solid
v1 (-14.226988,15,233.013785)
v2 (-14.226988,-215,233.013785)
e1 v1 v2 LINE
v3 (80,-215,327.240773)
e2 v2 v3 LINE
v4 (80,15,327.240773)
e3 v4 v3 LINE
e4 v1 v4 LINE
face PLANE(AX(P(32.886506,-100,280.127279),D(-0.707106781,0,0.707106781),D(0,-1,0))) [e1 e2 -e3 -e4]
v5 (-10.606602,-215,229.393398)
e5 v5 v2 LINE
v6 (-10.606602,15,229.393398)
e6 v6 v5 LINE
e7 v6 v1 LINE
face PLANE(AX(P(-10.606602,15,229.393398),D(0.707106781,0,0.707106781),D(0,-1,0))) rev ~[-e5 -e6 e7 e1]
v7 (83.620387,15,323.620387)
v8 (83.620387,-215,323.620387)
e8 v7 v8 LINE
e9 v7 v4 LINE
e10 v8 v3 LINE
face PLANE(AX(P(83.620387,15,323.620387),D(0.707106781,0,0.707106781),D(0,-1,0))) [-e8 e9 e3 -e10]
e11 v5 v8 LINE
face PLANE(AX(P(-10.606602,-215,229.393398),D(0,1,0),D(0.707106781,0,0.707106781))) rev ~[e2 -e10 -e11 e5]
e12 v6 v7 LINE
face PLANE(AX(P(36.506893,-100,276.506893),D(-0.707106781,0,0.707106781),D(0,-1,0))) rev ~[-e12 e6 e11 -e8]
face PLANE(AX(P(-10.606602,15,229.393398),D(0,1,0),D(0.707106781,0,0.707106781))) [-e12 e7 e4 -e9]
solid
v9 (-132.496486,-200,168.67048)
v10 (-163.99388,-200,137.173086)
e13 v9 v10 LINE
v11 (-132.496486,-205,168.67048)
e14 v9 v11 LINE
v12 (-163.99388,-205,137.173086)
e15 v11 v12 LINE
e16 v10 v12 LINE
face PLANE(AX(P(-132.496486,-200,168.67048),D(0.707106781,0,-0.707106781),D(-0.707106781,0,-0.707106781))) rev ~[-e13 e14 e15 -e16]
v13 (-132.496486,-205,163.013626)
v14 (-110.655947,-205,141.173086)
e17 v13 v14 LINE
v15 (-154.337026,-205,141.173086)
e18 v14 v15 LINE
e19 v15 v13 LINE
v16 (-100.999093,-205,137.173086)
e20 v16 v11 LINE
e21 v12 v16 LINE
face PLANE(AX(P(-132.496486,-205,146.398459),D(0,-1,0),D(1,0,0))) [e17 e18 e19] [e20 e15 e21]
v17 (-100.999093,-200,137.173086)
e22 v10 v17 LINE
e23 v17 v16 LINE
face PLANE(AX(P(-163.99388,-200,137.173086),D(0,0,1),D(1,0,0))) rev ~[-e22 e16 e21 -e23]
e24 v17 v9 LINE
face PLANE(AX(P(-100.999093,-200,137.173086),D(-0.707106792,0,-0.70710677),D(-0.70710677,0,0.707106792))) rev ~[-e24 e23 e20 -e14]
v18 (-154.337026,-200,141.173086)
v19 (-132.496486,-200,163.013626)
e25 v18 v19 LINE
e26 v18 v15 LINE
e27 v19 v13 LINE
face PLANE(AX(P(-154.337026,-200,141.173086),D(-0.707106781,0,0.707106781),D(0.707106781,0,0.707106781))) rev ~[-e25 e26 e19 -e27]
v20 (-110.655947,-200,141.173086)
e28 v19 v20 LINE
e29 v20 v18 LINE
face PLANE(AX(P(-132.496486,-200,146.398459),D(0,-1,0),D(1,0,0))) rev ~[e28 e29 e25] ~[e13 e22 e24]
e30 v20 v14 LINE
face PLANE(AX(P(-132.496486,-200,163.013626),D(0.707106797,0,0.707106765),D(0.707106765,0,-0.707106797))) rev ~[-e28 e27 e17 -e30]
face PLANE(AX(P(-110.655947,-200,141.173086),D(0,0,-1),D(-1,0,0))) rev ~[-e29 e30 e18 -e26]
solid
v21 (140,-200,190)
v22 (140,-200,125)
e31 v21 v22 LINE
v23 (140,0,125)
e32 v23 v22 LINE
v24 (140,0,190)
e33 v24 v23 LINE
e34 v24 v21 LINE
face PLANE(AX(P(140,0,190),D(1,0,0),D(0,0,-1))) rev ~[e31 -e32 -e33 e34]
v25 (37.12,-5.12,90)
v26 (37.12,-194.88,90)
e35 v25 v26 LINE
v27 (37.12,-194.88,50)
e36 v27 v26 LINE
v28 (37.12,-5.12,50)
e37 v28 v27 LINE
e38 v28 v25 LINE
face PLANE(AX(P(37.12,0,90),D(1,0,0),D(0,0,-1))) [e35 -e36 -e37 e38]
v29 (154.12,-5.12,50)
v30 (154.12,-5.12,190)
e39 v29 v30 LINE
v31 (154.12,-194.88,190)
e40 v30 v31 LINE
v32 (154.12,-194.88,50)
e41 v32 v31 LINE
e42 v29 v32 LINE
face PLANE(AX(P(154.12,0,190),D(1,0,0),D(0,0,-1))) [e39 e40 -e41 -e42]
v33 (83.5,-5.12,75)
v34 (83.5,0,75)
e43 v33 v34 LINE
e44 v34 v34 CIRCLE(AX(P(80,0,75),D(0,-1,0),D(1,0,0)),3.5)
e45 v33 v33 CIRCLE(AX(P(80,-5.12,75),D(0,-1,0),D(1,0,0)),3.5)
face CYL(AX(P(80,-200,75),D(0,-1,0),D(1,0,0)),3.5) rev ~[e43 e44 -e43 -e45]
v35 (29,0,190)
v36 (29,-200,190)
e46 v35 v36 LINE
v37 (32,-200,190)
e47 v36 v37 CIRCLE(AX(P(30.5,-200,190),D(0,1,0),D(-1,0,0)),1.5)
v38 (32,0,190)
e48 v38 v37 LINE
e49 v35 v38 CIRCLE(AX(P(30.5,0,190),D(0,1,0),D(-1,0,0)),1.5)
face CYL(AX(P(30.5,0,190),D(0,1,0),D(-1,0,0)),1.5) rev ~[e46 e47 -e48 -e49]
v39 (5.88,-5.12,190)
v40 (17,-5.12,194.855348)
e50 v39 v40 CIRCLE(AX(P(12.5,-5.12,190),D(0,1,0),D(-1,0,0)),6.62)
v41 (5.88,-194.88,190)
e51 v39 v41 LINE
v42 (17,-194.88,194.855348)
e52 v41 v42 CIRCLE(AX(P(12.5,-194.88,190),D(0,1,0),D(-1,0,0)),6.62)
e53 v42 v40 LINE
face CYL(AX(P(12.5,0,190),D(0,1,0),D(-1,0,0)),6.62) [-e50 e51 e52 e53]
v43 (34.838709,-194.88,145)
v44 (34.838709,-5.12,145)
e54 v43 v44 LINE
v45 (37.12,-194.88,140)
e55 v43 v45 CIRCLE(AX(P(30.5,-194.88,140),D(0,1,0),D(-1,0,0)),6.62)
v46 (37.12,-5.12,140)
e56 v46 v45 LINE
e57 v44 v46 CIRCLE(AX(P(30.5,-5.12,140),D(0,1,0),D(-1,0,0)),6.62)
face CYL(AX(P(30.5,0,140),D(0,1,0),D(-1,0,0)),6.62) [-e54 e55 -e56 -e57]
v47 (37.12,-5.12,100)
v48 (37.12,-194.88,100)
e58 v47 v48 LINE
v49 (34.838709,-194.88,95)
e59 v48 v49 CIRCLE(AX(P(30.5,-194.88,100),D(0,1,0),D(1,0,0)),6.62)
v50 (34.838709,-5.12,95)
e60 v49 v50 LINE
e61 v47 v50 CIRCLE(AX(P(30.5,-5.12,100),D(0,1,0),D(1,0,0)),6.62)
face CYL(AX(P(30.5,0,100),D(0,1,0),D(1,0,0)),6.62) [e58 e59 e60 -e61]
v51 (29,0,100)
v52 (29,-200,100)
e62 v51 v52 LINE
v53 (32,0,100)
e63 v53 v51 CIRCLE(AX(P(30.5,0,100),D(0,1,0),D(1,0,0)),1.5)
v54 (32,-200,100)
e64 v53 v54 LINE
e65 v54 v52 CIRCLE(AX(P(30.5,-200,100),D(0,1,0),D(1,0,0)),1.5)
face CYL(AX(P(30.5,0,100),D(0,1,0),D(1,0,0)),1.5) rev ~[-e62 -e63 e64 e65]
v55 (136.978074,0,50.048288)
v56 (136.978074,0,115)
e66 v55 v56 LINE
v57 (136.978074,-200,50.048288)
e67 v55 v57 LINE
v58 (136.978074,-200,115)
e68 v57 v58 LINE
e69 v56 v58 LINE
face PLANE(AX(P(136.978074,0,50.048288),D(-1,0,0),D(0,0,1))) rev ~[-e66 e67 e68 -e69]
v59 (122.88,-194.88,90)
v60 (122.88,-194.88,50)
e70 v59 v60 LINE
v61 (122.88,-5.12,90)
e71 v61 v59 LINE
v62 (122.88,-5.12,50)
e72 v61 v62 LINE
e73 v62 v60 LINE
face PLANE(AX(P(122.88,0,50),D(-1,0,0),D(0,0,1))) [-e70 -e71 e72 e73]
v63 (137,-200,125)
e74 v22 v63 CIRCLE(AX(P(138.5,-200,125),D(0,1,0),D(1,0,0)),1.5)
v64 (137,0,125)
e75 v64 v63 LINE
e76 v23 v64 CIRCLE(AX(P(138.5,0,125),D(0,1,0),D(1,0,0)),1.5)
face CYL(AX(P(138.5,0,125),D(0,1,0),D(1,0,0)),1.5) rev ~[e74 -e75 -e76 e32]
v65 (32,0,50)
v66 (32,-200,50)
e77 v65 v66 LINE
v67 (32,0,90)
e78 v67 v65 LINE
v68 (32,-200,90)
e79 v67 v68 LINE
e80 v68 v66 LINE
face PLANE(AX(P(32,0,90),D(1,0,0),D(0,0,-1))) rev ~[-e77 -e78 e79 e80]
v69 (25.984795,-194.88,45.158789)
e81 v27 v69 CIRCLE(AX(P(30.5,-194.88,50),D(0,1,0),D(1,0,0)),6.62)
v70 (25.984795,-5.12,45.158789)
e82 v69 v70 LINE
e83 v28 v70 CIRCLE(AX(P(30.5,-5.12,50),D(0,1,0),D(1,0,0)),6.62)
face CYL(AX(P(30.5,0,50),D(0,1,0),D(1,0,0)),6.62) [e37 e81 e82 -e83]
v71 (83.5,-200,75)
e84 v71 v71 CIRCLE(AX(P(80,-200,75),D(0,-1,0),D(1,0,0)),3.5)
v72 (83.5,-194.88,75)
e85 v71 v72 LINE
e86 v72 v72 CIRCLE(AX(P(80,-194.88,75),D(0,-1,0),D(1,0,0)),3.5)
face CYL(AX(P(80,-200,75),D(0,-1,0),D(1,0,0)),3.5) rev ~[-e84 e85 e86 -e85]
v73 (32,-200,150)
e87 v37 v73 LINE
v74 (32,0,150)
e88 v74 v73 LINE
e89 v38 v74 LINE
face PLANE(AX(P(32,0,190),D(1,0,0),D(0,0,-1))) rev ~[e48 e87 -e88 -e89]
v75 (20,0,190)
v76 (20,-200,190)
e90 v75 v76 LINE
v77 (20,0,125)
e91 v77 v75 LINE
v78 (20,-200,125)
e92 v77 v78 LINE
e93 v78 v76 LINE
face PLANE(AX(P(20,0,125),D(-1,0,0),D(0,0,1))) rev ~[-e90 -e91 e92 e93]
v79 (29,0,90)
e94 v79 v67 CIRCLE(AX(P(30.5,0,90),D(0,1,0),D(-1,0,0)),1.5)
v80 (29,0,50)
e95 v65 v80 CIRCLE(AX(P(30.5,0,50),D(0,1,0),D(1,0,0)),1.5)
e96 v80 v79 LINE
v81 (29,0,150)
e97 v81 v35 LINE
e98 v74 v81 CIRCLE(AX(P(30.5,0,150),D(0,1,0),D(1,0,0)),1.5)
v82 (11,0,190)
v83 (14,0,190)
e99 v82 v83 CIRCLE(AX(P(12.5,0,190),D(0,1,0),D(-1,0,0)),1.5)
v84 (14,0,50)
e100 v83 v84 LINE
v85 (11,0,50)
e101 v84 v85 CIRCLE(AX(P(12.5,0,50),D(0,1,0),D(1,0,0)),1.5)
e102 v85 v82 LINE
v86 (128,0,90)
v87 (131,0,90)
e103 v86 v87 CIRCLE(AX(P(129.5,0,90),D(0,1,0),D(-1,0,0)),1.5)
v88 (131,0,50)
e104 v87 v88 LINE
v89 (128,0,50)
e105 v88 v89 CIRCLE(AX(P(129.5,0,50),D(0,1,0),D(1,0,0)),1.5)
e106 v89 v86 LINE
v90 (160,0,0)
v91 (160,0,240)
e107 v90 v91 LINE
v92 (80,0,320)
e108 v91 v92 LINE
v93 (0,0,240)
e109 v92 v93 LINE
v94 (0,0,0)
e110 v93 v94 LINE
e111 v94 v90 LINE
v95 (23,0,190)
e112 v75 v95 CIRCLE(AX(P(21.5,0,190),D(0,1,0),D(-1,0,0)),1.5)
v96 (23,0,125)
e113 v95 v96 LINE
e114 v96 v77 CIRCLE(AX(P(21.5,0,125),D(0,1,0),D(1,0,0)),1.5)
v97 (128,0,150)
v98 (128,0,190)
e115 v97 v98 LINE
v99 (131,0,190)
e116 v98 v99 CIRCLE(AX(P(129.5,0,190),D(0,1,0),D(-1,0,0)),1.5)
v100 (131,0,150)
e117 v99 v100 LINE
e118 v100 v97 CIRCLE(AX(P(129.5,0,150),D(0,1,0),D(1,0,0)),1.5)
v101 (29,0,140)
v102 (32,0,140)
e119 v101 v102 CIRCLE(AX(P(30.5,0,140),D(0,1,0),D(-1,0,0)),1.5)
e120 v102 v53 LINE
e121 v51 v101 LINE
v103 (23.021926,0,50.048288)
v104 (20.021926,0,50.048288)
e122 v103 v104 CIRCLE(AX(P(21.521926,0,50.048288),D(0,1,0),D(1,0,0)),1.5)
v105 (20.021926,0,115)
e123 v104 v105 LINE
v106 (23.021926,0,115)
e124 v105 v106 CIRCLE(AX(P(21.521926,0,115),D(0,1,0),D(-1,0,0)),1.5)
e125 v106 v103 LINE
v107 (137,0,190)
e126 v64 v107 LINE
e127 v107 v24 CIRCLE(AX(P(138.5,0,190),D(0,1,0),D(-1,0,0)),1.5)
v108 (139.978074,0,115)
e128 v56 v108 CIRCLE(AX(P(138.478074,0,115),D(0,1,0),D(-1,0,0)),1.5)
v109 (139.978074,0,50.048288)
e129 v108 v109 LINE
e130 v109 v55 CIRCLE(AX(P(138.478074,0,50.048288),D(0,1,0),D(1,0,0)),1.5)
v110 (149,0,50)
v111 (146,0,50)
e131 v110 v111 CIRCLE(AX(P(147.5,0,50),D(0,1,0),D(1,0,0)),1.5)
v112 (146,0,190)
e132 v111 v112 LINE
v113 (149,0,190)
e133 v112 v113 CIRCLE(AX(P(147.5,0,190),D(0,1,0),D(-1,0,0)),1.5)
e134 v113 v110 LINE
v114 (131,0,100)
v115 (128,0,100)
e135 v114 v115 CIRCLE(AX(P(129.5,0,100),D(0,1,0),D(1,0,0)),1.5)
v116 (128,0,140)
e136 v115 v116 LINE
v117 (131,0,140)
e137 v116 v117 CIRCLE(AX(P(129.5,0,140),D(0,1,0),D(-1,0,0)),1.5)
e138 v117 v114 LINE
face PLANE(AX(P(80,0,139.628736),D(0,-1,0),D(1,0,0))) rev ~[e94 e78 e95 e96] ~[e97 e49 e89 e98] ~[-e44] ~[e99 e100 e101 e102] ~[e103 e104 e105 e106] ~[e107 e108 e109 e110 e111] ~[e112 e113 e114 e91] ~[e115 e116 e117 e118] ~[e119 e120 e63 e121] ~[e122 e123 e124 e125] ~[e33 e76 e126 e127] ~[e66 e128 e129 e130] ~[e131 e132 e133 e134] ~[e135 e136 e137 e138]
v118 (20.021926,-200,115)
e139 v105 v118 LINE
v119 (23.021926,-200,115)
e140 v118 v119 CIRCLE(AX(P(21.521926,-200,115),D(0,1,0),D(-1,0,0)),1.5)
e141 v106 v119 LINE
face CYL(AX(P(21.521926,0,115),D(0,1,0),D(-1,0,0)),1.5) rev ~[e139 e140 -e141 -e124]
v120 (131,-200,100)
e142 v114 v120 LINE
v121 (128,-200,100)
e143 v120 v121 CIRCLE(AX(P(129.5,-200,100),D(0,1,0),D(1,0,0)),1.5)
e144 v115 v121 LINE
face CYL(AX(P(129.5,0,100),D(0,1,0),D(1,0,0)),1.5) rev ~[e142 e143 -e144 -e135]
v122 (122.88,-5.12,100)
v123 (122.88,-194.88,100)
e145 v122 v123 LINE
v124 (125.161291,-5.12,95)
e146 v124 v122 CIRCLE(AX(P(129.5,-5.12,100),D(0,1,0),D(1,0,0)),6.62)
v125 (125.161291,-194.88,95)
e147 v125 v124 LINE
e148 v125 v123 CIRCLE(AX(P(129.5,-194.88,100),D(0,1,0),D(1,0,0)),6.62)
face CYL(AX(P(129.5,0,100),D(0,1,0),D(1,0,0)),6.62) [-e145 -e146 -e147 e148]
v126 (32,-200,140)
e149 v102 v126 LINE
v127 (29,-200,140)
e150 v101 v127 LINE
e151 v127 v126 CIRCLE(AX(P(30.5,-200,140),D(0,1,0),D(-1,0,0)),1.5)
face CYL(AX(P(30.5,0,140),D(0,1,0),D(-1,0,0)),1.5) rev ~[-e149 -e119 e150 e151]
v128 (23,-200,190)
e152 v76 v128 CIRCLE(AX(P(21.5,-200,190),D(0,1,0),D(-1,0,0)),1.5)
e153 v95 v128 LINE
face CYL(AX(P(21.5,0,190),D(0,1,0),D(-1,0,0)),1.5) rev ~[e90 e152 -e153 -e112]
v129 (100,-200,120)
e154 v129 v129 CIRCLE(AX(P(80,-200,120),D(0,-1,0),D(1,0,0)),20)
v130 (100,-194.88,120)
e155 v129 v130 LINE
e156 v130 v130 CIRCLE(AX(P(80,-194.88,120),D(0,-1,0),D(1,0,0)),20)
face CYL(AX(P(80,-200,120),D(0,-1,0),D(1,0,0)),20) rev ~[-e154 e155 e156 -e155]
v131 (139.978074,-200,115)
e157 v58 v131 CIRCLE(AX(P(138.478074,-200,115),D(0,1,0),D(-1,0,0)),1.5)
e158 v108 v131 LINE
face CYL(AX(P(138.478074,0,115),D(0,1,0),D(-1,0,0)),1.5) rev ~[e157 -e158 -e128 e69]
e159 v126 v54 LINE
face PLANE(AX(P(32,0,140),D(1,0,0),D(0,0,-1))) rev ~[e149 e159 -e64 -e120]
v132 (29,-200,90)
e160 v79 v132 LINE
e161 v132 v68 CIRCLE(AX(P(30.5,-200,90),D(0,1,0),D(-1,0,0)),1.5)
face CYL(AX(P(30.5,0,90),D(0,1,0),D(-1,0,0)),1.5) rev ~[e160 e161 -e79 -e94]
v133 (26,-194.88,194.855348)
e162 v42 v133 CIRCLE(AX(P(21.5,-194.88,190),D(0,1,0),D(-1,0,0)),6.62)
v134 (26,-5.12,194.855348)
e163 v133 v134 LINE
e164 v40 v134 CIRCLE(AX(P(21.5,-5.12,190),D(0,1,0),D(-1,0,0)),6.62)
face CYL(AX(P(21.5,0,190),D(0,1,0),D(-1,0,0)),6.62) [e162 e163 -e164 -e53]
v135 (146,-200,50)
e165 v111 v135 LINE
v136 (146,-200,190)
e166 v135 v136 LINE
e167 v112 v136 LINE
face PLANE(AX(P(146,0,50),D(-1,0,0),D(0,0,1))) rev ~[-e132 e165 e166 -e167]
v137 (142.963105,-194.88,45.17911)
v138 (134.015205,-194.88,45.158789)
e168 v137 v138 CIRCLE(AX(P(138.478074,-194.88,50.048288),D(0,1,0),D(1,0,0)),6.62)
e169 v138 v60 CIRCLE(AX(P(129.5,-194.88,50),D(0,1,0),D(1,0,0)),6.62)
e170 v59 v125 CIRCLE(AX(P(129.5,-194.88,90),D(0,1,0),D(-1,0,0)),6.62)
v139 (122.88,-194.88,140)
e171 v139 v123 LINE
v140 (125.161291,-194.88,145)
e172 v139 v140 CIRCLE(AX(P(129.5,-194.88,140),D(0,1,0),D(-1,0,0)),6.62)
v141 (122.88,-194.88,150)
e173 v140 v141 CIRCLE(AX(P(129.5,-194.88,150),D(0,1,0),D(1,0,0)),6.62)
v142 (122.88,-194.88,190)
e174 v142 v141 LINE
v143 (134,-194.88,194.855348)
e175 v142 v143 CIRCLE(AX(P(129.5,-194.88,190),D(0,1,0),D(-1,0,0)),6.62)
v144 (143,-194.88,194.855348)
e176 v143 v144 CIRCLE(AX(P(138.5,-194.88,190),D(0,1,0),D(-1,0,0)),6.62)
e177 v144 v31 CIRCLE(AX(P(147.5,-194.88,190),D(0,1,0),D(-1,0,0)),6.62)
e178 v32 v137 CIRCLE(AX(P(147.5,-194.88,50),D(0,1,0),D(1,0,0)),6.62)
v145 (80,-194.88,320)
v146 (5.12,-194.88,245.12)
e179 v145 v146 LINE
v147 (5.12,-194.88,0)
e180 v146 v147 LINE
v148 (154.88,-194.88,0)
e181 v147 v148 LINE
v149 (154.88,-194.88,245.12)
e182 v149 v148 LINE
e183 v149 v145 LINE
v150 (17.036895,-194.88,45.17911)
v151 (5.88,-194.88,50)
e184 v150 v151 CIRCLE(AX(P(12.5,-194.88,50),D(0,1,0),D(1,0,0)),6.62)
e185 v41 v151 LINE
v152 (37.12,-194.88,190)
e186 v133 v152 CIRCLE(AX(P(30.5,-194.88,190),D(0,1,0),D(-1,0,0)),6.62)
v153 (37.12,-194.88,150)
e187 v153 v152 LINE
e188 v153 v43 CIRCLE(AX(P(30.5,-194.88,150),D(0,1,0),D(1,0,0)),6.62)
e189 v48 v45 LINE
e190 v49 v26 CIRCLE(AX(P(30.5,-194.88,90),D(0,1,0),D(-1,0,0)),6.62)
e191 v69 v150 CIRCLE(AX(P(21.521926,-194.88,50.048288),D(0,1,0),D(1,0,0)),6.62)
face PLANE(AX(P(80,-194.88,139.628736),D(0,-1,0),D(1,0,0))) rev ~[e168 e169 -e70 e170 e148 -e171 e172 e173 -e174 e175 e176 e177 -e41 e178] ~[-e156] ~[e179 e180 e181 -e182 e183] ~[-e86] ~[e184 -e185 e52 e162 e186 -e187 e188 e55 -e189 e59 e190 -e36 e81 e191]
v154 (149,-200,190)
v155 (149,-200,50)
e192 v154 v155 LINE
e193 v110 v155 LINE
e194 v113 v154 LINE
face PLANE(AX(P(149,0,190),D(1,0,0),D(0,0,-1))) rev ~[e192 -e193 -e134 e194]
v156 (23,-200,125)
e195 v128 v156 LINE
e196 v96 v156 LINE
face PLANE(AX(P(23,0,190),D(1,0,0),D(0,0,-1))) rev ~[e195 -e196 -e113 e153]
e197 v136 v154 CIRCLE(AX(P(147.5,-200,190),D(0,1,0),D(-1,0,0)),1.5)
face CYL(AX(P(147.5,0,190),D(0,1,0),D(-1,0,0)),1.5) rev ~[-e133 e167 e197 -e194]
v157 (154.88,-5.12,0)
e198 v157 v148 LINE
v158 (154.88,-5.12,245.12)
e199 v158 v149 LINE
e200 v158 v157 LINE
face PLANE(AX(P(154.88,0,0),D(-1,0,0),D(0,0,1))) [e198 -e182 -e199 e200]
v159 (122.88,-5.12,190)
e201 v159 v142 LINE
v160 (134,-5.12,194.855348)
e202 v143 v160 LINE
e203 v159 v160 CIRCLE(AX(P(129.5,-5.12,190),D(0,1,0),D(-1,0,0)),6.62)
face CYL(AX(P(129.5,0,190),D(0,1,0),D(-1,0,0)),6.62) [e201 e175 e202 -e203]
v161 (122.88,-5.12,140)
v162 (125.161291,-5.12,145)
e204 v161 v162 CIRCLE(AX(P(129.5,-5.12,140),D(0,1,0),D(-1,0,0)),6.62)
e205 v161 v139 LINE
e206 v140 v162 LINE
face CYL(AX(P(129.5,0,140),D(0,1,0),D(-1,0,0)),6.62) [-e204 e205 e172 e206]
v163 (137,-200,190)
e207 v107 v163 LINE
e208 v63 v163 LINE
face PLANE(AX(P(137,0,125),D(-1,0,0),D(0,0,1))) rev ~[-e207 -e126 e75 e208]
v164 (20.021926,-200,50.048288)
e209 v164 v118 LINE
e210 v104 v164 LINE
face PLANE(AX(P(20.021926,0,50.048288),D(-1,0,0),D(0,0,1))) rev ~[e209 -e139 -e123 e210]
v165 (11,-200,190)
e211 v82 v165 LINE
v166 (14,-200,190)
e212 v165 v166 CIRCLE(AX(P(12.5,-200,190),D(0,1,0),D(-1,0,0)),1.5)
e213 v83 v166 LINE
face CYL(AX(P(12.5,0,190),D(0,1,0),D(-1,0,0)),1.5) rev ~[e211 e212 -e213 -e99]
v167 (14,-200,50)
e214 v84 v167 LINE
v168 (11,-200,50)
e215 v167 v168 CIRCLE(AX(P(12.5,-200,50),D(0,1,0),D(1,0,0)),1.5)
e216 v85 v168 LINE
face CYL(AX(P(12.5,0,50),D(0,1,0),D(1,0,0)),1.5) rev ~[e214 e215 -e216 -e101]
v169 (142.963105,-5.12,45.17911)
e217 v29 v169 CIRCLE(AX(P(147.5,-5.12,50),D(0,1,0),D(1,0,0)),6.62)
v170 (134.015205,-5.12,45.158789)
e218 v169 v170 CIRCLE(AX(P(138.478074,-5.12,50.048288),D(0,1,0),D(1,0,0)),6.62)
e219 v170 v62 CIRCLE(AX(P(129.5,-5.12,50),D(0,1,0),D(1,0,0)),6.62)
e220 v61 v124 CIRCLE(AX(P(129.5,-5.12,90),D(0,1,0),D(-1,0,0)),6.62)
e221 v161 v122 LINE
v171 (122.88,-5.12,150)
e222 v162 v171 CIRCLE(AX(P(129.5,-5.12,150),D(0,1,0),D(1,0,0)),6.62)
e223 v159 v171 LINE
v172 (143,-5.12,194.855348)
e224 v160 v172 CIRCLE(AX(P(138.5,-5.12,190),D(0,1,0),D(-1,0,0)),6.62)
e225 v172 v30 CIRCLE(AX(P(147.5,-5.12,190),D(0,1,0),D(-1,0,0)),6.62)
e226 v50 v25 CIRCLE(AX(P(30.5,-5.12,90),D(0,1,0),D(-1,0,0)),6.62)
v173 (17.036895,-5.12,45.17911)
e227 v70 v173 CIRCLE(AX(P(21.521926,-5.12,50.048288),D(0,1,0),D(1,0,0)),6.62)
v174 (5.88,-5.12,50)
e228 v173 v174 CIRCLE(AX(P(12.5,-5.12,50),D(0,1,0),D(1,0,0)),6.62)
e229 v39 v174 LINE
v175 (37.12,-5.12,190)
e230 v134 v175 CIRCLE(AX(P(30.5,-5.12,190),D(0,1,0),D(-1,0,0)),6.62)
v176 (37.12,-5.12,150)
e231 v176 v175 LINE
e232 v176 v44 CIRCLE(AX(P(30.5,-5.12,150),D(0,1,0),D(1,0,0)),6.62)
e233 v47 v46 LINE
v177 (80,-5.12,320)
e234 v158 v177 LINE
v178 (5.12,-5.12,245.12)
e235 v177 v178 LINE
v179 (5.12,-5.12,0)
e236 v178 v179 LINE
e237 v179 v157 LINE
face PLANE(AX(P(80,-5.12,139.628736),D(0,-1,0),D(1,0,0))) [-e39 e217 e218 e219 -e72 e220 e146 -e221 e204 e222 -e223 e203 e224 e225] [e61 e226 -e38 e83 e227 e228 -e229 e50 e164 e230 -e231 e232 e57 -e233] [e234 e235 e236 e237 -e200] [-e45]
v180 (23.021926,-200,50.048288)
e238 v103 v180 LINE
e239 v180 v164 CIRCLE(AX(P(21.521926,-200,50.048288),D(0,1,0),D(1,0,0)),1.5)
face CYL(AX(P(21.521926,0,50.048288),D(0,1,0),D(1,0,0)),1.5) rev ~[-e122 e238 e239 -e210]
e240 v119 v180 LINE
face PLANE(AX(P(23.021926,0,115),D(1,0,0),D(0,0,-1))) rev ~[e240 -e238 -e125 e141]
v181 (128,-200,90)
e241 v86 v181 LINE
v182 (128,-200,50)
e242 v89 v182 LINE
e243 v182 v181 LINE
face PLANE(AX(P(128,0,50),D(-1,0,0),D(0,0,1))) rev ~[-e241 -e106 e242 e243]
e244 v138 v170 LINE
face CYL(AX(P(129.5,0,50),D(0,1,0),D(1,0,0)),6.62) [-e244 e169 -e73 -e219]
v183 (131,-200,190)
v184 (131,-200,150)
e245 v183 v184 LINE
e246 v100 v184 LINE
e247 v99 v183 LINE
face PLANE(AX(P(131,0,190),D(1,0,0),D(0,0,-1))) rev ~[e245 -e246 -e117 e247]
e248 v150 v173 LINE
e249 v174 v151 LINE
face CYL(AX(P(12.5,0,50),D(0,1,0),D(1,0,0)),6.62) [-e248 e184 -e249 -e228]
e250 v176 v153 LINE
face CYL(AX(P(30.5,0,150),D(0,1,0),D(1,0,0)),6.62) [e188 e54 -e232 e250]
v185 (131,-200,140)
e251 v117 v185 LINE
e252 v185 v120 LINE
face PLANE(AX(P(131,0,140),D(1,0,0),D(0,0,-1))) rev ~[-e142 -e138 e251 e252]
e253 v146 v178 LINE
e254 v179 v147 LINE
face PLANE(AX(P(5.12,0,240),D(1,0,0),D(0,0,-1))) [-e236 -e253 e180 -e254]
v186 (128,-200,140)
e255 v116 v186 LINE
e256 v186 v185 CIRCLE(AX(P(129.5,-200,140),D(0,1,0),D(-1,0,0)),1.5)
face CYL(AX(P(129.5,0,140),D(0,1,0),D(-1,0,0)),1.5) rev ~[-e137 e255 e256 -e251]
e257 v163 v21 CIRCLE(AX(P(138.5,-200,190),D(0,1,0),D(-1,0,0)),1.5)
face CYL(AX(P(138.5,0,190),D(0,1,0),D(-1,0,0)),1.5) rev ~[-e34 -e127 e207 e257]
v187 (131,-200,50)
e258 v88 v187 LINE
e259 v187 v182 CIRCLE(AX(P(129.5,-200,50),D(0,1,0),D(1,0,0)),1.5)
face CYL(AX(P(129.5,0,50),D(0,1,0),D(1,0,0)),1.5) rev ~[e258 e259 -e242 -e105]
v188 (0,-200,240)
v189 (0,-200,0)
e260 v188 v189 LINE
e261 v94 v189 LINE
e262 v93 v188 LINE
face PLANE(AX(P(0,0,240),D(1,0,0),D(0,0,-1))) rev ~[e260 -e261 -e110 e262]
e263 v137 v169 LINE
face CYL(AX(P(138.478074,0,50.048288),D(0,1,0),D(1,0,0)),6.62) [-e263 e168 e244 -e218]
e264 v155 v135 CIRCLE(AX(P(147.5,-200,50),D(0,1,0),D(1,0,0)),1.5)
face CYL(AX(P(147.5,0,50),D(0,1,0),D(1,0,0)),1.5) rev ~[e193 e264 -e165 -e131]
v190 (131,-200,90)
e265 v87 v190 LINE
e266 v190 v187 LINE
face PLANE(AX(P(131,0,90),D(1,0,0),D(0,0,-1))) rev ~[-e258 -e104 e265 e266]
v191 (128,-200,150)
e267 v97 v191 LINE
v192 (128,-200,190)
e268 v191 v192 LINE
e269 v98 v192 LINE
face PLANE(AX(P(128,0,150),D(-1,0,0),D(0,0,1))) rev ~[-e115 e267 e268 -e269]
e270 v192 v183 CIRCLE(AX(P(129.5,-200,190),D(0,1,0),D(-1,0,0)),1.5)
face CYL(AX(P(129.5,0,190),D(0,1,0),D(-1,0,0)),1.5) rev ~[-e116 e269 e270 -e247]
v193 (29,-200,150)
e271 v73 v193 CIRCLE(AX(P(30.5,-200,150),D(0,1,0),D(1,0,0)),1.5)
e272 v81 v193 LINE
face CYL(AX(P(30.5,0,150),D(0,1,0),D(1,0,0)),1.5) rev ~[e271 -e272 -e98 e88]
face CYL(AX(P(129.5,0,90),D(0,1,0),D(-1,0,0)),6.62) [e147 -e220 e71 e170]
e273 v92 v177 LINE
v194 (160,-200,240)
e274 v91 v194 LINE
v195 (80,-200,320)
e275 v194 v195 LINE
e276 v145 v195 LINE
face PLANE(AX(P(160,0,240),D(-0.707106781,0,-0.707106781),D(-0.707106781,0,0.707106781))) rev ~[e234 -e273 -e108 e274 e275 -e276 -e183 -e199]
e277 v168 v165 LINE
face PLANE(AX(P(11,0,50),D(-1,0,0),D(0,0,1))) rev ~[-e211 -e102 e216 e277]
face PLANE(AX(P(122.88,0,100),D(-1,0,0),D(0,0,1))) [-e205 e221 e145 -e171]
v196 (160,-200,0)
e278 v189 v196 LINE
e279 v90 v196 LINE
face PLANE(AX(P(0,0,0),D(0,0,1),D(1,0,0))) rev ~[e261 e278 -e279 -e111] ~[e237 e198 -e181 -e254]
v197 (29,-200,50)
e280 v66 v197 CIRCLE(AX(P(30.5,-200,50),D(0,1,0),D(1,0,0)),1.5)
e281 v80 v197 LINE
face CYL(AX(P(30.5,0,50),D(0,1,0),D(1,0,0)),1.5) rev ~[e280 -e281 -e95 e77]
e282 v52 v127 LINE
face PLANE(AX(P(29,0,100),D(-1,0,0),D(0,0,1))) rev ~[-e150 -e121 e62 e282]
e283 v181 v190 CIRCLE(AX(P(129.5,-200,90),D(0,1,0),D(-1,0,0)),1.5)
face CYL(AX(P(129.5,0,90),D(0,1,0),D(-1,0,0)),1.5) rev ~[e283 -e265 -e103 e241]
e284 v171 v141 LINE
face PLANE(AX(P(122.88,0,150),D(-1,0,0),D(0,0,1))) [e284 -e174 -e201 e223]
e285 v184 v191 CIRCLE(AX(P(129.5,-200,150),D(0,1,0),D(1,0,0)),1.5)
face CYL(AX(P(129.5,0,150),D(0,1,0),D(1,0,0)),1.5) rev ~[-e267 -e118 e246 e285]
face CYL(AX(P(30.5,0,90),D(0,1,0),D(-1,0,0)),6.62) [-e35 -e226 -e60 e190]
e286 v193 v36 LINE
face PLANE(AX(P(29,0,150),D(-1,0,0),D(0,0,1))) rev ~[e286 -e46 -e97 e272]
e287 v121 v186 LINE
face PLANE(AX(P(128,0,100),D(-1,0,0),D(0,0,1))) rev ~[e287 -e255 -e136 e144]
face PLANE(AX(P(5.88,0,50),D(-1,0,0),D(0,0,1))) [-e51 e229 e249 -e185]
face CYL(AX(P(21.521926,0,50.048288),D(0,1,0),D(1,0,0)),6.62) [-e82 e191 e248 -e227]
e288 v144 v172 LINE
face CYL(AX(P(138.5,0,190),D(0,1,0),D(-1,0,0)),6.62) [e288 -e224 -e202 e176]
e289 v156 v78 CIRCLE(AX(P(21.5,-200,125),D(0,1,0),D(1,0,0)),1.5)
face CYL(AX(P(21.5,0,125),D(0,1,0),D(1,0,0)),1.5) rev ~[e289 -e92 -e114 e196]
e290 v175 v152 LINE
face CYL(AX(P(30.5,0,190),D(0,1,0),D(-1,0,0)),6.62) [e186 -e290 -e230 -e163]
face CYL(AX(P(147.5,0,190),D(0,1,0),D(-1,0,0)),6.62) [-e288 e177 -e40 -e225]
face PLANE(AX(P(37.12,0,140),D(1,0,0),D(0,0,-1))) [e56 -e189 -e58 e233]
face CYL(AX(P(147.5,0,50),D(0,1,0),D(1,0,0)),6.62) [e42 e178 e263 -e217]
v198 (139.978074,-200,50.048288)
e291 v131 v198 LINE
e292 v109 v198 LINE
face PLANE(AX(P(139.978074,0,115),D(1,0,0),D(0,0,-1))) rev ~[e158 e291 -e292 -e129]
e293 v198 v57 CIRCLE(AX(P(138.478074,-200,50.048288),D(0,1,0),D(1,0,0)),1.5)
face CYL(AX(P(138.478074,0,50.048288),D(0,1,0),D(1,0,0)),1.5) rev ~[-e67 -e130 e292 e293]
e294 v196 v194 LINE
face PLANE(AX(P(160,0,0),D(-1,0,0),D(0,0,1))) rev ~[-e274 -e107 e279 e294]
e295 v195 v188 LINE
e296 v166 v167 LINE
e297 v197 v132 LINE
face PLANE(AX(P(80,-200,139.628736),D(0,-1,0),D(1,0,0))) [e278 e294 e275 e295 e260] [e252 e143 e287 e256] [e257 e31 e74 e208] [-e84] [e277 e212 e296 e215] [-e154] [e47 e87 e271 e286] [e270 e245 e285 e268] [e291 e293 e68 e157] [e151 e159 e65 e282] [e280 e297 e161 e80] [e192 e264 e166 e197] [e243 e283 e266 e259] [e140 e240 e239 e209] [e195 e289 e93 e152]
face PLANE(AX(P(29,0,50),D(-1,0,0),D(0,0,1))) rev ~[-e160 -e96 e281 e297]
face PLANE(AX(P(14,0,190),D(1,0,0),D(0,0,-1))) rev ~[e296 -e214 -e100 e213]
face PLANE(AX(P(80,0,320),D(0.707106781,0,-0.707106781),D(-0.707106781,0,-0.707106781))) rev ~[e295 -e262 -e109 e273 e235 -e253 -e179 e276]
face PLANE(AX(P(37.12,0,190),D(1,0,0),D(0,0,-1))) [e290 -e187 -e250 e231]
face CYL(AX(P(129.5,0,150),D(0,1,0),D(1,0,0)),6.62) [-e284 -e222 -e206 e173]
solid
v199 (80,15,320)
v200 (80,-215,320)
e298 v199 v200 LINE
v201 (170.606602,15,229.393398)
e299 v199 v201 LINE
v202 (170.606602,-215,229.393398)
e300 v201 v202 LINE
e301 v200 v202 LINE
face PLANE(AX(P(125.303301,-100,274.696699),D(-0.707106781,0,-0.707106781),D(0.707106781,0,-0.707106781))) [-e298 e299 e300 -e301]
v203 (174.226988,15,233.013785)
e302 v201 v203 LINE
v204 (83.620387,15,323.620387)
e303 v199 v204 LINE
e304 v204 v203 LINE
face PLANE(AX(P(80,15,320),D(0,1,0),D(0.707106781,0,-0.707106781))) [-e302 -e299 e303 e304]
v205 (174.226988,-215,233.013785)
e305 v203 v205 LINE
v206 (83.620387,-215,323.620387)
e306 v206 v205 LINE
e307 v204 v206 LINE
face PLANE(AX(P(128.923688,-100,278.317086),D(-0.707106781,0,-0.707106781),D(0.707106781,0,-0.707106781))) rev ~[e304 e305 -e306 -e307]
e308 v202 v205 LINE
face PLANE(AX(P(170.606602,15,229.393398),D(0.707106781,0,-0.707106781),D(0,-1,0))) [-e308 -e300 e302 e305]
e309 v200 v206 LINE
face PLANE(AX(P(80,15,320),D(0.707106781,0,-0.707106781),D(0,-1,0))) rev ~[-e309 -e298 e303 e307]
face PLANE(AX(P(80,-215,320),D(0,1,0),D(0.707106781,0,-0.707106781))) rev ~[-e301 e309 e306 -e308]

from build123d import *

# Parameters (mm, degrees)
F1_DEPTH  = 200
F2_T      = -5.12
F3_R      = 20
F4_DEPTH  = 25
F3_R_2    = 3.5
F5_DEPTH  = 220
F7_W      = 128.137085
F7_H      = 230
F8_DEPTH  = 5.12
F10_W     = 230
F10_H     = 133.257085
F11_DEPTH = 5.12
F14_DEPTH = 5


with BuildPart() as f1:
    # F0 (on Front) → F1 (new body)
    with BuildSketch(Plane.XZ):
        Polygon((0, 240), (0, 0), (160, 0), (160, 240), (80, 320), align=None)
        with BuildLine():
            Line((29, 50), (29, 90))
            ThreePointArc((29, 90), (30.5, 91.5), (32, 90))
            Line((32, 90), (32, 50))
            ThreePointArc((32, 50), (30.5, 48.5), (29, 50))
        make_face(mode=Mode.SUBTRACT)
        with BuildLine():
            Line((20.021926, 50.048288), (20.021926, 115))
            ThreePointArc((20.021926, 115), (21.521926, 116.5), (23.021926, 115))
            Line((23.021926, 115), (23.021926, 50.048288))
            ThreePointArc((23.021926, 50.048288), (21.521926, 48.548288), (20.021926, 50.048288))
        make_face(mode=Mode.SUBTRACT)
        with BuildLine():
            Line((14, 190), (14, 50))
            ThreePointArc((14, 50), (12.5, 48.5), (11, 50))
            Line((11, 50), (11, 190))
            ThreePointArc((11, 190), (12.5, 191.5), (14, 190))
        make_face(mode=Mode.SUBTRACT)
        with BuildLine():
            Line((29, 100), (29, 140))
            ThreePointArc((29, 140), (30.5, 141.5), (32, 140))
            Line((32, 140), (32, 100))
            ThreePointArc((32, 100), (30.5, 98.5), (29, 100))
        make_face(mode=Mode.SUBTRACT)
        with BuildLine():
            Line((20, 125), (20, 190))
            ThreePointArc((20, 190), (21.5, 191.5), (23, 190))
            Line((23, 190), (23, 125))
            ThreePointArc((23, 125), (21.5, 123.5), (20, 125))
        make_face(mode=Mode.SUBTRACT)
        with BuildLine():
            ThreePointArc((128, 90), (129.5, 91.5), (131, 90))
            Line((131, 90), (131, 50))
            ThreePointArc((131, 50), (129.5, 48.5), (128, 50))
            Line((128, 50), (128, 90))
        make_face(mode=Mode.SUBTRACT)
        with BuildLine():
            Line((136.978074, 50.048288), (136.978074, 115))
            ThreePointArc((136.978074, 115), (138.478074, 116.5), (139.978074, 115))
            Line((139.978074, 115), (139.978074, 50.048288))
            ThreePointArc((139.978074, 50.048288), (138.478074, 48.548288), (136.978074, 50.048288))
        make_face(mode=Mode.SUBTRACT)
        with BuildLine():
            Line((128, 100), (128, 140))
            ThreePointArc((128, 140), (129.5, 141.5), (131, 140))
            Line((131, 140), (131, 100))
            ThreePointArc((131, 100), (129.5, 98.5), (128, 100))
        make_face(mode=Mode.SUBTRACT)
        with BuildLine():
            Line((137, 125), (137, 190))
            ThreePointArc((137, 190), (138.5, 191.5), (140, 190))
            Line((140, 190), (140, 125))
            ThreePointArc((140, 125), (138.5, 123.5), (137, 125))
        make_face(mode=Mode.SUBTRACT)
        with BuildLine():
            ThreePointArc((146, 190), (147.5, 191.5), (149, 190))
            Line((149, 190), (149, 50))
            ThreePointArc((149, 50), (147.5, 48.5), (146, 50))
            Line((146, 50), (146, 190))
        make_face(mode=Mode.SUBTRACT)
        with BuildLine():
            Line((29, 150), (29, 190))
            ThreePointArc((29, 190), (30.5, 191.5), (32, 190))
            Line((32, 190), (32, 150))
            ThreePointArc((32, 150), (30.5, 148.5), (29, 150))
        make_face(mode=Mode.SUBTRACT)
        with BuildLine():
            Line((128, 150), (128, 190))
            ThreePointArc((128, 190), (129.5, 191.5), (131, 190))
            Line((131, 190), (131, 150))
            ThreePointArc((131, 150), (129.5, 148.5), (128, 150))
        make_face(mode=Mode.SUBTRACT)
    extrude(amount=F1_DEPTH)

    # F2
    f2_openings = [f1.faces().sort_by_distance(p)[0] for p in [
        (80, -100, 0),
        (120, -100, 280),
        (40, -100, 280),
    ]]
    offset(amount=F2_T, openings=f2_openings)

    # F3 (on face) → F4 (cut)
    with BuildSketch(Plane.XZ.offset(200)):
        with Locations((80, 120)):
            Circle(F3_R)
    extrude(amount=-F4_DEPTH, mode=Mode.SUBTRACT)

    # F3 (on face) → F5 (cut)
    with BuildSketch(Plane.XZ.offset(200)):
        with Locations((80, 75)):
            Circle(F3_R_2)
    extrude(amount=-F5_DEPTH, mode=Mode.SUBTRACT)


with BuildPart() as f8:
    # F7 (on face) → F8 (new body)
    with BuildSketch(Plane(origin=(200, 0, 200), x_dir=(0.707107, 0, -0.707107), z_dir=(-0.707107, 0, -0.707107))):
        with Locations((-105.637085, 100)):
            Rectangle(F7_W, F7_H)
    extrude(amount=-F8_DEPTH)


with BuildPart() as f11:
    # F10 (on face) → F11 (new body)
    with BuildSketch(Plane(origin=(-120, 0, 120), x_dir=(0, -1, 0), z_dir=(-0.707107, 0, 0.707107))):
        with Locations((100, 221.33417)):
            Rectangle(F10_W, F10_H)
    extrude(amount=F11_DEPTH)


with BuildPart() as f14:
    # F13 (on face) → F14 (new body)
    with BuildSketch(Plane.XZ.offset(200)):
        Polygon((-132.496486, 168.67048), (-163.99388, 137.173086), (-100.999093, 137.173086), align=None)
        Polygon((-110.655947, 141.173086), (-154.337026, 141.173086), (-132.496486, 163.013626), align=None, mode=Mode.SUBTRACT)
    extrude(amount=F14_DEPTH)


solid = Compound([f1.part, f8.part, f11.part, f14.part])
